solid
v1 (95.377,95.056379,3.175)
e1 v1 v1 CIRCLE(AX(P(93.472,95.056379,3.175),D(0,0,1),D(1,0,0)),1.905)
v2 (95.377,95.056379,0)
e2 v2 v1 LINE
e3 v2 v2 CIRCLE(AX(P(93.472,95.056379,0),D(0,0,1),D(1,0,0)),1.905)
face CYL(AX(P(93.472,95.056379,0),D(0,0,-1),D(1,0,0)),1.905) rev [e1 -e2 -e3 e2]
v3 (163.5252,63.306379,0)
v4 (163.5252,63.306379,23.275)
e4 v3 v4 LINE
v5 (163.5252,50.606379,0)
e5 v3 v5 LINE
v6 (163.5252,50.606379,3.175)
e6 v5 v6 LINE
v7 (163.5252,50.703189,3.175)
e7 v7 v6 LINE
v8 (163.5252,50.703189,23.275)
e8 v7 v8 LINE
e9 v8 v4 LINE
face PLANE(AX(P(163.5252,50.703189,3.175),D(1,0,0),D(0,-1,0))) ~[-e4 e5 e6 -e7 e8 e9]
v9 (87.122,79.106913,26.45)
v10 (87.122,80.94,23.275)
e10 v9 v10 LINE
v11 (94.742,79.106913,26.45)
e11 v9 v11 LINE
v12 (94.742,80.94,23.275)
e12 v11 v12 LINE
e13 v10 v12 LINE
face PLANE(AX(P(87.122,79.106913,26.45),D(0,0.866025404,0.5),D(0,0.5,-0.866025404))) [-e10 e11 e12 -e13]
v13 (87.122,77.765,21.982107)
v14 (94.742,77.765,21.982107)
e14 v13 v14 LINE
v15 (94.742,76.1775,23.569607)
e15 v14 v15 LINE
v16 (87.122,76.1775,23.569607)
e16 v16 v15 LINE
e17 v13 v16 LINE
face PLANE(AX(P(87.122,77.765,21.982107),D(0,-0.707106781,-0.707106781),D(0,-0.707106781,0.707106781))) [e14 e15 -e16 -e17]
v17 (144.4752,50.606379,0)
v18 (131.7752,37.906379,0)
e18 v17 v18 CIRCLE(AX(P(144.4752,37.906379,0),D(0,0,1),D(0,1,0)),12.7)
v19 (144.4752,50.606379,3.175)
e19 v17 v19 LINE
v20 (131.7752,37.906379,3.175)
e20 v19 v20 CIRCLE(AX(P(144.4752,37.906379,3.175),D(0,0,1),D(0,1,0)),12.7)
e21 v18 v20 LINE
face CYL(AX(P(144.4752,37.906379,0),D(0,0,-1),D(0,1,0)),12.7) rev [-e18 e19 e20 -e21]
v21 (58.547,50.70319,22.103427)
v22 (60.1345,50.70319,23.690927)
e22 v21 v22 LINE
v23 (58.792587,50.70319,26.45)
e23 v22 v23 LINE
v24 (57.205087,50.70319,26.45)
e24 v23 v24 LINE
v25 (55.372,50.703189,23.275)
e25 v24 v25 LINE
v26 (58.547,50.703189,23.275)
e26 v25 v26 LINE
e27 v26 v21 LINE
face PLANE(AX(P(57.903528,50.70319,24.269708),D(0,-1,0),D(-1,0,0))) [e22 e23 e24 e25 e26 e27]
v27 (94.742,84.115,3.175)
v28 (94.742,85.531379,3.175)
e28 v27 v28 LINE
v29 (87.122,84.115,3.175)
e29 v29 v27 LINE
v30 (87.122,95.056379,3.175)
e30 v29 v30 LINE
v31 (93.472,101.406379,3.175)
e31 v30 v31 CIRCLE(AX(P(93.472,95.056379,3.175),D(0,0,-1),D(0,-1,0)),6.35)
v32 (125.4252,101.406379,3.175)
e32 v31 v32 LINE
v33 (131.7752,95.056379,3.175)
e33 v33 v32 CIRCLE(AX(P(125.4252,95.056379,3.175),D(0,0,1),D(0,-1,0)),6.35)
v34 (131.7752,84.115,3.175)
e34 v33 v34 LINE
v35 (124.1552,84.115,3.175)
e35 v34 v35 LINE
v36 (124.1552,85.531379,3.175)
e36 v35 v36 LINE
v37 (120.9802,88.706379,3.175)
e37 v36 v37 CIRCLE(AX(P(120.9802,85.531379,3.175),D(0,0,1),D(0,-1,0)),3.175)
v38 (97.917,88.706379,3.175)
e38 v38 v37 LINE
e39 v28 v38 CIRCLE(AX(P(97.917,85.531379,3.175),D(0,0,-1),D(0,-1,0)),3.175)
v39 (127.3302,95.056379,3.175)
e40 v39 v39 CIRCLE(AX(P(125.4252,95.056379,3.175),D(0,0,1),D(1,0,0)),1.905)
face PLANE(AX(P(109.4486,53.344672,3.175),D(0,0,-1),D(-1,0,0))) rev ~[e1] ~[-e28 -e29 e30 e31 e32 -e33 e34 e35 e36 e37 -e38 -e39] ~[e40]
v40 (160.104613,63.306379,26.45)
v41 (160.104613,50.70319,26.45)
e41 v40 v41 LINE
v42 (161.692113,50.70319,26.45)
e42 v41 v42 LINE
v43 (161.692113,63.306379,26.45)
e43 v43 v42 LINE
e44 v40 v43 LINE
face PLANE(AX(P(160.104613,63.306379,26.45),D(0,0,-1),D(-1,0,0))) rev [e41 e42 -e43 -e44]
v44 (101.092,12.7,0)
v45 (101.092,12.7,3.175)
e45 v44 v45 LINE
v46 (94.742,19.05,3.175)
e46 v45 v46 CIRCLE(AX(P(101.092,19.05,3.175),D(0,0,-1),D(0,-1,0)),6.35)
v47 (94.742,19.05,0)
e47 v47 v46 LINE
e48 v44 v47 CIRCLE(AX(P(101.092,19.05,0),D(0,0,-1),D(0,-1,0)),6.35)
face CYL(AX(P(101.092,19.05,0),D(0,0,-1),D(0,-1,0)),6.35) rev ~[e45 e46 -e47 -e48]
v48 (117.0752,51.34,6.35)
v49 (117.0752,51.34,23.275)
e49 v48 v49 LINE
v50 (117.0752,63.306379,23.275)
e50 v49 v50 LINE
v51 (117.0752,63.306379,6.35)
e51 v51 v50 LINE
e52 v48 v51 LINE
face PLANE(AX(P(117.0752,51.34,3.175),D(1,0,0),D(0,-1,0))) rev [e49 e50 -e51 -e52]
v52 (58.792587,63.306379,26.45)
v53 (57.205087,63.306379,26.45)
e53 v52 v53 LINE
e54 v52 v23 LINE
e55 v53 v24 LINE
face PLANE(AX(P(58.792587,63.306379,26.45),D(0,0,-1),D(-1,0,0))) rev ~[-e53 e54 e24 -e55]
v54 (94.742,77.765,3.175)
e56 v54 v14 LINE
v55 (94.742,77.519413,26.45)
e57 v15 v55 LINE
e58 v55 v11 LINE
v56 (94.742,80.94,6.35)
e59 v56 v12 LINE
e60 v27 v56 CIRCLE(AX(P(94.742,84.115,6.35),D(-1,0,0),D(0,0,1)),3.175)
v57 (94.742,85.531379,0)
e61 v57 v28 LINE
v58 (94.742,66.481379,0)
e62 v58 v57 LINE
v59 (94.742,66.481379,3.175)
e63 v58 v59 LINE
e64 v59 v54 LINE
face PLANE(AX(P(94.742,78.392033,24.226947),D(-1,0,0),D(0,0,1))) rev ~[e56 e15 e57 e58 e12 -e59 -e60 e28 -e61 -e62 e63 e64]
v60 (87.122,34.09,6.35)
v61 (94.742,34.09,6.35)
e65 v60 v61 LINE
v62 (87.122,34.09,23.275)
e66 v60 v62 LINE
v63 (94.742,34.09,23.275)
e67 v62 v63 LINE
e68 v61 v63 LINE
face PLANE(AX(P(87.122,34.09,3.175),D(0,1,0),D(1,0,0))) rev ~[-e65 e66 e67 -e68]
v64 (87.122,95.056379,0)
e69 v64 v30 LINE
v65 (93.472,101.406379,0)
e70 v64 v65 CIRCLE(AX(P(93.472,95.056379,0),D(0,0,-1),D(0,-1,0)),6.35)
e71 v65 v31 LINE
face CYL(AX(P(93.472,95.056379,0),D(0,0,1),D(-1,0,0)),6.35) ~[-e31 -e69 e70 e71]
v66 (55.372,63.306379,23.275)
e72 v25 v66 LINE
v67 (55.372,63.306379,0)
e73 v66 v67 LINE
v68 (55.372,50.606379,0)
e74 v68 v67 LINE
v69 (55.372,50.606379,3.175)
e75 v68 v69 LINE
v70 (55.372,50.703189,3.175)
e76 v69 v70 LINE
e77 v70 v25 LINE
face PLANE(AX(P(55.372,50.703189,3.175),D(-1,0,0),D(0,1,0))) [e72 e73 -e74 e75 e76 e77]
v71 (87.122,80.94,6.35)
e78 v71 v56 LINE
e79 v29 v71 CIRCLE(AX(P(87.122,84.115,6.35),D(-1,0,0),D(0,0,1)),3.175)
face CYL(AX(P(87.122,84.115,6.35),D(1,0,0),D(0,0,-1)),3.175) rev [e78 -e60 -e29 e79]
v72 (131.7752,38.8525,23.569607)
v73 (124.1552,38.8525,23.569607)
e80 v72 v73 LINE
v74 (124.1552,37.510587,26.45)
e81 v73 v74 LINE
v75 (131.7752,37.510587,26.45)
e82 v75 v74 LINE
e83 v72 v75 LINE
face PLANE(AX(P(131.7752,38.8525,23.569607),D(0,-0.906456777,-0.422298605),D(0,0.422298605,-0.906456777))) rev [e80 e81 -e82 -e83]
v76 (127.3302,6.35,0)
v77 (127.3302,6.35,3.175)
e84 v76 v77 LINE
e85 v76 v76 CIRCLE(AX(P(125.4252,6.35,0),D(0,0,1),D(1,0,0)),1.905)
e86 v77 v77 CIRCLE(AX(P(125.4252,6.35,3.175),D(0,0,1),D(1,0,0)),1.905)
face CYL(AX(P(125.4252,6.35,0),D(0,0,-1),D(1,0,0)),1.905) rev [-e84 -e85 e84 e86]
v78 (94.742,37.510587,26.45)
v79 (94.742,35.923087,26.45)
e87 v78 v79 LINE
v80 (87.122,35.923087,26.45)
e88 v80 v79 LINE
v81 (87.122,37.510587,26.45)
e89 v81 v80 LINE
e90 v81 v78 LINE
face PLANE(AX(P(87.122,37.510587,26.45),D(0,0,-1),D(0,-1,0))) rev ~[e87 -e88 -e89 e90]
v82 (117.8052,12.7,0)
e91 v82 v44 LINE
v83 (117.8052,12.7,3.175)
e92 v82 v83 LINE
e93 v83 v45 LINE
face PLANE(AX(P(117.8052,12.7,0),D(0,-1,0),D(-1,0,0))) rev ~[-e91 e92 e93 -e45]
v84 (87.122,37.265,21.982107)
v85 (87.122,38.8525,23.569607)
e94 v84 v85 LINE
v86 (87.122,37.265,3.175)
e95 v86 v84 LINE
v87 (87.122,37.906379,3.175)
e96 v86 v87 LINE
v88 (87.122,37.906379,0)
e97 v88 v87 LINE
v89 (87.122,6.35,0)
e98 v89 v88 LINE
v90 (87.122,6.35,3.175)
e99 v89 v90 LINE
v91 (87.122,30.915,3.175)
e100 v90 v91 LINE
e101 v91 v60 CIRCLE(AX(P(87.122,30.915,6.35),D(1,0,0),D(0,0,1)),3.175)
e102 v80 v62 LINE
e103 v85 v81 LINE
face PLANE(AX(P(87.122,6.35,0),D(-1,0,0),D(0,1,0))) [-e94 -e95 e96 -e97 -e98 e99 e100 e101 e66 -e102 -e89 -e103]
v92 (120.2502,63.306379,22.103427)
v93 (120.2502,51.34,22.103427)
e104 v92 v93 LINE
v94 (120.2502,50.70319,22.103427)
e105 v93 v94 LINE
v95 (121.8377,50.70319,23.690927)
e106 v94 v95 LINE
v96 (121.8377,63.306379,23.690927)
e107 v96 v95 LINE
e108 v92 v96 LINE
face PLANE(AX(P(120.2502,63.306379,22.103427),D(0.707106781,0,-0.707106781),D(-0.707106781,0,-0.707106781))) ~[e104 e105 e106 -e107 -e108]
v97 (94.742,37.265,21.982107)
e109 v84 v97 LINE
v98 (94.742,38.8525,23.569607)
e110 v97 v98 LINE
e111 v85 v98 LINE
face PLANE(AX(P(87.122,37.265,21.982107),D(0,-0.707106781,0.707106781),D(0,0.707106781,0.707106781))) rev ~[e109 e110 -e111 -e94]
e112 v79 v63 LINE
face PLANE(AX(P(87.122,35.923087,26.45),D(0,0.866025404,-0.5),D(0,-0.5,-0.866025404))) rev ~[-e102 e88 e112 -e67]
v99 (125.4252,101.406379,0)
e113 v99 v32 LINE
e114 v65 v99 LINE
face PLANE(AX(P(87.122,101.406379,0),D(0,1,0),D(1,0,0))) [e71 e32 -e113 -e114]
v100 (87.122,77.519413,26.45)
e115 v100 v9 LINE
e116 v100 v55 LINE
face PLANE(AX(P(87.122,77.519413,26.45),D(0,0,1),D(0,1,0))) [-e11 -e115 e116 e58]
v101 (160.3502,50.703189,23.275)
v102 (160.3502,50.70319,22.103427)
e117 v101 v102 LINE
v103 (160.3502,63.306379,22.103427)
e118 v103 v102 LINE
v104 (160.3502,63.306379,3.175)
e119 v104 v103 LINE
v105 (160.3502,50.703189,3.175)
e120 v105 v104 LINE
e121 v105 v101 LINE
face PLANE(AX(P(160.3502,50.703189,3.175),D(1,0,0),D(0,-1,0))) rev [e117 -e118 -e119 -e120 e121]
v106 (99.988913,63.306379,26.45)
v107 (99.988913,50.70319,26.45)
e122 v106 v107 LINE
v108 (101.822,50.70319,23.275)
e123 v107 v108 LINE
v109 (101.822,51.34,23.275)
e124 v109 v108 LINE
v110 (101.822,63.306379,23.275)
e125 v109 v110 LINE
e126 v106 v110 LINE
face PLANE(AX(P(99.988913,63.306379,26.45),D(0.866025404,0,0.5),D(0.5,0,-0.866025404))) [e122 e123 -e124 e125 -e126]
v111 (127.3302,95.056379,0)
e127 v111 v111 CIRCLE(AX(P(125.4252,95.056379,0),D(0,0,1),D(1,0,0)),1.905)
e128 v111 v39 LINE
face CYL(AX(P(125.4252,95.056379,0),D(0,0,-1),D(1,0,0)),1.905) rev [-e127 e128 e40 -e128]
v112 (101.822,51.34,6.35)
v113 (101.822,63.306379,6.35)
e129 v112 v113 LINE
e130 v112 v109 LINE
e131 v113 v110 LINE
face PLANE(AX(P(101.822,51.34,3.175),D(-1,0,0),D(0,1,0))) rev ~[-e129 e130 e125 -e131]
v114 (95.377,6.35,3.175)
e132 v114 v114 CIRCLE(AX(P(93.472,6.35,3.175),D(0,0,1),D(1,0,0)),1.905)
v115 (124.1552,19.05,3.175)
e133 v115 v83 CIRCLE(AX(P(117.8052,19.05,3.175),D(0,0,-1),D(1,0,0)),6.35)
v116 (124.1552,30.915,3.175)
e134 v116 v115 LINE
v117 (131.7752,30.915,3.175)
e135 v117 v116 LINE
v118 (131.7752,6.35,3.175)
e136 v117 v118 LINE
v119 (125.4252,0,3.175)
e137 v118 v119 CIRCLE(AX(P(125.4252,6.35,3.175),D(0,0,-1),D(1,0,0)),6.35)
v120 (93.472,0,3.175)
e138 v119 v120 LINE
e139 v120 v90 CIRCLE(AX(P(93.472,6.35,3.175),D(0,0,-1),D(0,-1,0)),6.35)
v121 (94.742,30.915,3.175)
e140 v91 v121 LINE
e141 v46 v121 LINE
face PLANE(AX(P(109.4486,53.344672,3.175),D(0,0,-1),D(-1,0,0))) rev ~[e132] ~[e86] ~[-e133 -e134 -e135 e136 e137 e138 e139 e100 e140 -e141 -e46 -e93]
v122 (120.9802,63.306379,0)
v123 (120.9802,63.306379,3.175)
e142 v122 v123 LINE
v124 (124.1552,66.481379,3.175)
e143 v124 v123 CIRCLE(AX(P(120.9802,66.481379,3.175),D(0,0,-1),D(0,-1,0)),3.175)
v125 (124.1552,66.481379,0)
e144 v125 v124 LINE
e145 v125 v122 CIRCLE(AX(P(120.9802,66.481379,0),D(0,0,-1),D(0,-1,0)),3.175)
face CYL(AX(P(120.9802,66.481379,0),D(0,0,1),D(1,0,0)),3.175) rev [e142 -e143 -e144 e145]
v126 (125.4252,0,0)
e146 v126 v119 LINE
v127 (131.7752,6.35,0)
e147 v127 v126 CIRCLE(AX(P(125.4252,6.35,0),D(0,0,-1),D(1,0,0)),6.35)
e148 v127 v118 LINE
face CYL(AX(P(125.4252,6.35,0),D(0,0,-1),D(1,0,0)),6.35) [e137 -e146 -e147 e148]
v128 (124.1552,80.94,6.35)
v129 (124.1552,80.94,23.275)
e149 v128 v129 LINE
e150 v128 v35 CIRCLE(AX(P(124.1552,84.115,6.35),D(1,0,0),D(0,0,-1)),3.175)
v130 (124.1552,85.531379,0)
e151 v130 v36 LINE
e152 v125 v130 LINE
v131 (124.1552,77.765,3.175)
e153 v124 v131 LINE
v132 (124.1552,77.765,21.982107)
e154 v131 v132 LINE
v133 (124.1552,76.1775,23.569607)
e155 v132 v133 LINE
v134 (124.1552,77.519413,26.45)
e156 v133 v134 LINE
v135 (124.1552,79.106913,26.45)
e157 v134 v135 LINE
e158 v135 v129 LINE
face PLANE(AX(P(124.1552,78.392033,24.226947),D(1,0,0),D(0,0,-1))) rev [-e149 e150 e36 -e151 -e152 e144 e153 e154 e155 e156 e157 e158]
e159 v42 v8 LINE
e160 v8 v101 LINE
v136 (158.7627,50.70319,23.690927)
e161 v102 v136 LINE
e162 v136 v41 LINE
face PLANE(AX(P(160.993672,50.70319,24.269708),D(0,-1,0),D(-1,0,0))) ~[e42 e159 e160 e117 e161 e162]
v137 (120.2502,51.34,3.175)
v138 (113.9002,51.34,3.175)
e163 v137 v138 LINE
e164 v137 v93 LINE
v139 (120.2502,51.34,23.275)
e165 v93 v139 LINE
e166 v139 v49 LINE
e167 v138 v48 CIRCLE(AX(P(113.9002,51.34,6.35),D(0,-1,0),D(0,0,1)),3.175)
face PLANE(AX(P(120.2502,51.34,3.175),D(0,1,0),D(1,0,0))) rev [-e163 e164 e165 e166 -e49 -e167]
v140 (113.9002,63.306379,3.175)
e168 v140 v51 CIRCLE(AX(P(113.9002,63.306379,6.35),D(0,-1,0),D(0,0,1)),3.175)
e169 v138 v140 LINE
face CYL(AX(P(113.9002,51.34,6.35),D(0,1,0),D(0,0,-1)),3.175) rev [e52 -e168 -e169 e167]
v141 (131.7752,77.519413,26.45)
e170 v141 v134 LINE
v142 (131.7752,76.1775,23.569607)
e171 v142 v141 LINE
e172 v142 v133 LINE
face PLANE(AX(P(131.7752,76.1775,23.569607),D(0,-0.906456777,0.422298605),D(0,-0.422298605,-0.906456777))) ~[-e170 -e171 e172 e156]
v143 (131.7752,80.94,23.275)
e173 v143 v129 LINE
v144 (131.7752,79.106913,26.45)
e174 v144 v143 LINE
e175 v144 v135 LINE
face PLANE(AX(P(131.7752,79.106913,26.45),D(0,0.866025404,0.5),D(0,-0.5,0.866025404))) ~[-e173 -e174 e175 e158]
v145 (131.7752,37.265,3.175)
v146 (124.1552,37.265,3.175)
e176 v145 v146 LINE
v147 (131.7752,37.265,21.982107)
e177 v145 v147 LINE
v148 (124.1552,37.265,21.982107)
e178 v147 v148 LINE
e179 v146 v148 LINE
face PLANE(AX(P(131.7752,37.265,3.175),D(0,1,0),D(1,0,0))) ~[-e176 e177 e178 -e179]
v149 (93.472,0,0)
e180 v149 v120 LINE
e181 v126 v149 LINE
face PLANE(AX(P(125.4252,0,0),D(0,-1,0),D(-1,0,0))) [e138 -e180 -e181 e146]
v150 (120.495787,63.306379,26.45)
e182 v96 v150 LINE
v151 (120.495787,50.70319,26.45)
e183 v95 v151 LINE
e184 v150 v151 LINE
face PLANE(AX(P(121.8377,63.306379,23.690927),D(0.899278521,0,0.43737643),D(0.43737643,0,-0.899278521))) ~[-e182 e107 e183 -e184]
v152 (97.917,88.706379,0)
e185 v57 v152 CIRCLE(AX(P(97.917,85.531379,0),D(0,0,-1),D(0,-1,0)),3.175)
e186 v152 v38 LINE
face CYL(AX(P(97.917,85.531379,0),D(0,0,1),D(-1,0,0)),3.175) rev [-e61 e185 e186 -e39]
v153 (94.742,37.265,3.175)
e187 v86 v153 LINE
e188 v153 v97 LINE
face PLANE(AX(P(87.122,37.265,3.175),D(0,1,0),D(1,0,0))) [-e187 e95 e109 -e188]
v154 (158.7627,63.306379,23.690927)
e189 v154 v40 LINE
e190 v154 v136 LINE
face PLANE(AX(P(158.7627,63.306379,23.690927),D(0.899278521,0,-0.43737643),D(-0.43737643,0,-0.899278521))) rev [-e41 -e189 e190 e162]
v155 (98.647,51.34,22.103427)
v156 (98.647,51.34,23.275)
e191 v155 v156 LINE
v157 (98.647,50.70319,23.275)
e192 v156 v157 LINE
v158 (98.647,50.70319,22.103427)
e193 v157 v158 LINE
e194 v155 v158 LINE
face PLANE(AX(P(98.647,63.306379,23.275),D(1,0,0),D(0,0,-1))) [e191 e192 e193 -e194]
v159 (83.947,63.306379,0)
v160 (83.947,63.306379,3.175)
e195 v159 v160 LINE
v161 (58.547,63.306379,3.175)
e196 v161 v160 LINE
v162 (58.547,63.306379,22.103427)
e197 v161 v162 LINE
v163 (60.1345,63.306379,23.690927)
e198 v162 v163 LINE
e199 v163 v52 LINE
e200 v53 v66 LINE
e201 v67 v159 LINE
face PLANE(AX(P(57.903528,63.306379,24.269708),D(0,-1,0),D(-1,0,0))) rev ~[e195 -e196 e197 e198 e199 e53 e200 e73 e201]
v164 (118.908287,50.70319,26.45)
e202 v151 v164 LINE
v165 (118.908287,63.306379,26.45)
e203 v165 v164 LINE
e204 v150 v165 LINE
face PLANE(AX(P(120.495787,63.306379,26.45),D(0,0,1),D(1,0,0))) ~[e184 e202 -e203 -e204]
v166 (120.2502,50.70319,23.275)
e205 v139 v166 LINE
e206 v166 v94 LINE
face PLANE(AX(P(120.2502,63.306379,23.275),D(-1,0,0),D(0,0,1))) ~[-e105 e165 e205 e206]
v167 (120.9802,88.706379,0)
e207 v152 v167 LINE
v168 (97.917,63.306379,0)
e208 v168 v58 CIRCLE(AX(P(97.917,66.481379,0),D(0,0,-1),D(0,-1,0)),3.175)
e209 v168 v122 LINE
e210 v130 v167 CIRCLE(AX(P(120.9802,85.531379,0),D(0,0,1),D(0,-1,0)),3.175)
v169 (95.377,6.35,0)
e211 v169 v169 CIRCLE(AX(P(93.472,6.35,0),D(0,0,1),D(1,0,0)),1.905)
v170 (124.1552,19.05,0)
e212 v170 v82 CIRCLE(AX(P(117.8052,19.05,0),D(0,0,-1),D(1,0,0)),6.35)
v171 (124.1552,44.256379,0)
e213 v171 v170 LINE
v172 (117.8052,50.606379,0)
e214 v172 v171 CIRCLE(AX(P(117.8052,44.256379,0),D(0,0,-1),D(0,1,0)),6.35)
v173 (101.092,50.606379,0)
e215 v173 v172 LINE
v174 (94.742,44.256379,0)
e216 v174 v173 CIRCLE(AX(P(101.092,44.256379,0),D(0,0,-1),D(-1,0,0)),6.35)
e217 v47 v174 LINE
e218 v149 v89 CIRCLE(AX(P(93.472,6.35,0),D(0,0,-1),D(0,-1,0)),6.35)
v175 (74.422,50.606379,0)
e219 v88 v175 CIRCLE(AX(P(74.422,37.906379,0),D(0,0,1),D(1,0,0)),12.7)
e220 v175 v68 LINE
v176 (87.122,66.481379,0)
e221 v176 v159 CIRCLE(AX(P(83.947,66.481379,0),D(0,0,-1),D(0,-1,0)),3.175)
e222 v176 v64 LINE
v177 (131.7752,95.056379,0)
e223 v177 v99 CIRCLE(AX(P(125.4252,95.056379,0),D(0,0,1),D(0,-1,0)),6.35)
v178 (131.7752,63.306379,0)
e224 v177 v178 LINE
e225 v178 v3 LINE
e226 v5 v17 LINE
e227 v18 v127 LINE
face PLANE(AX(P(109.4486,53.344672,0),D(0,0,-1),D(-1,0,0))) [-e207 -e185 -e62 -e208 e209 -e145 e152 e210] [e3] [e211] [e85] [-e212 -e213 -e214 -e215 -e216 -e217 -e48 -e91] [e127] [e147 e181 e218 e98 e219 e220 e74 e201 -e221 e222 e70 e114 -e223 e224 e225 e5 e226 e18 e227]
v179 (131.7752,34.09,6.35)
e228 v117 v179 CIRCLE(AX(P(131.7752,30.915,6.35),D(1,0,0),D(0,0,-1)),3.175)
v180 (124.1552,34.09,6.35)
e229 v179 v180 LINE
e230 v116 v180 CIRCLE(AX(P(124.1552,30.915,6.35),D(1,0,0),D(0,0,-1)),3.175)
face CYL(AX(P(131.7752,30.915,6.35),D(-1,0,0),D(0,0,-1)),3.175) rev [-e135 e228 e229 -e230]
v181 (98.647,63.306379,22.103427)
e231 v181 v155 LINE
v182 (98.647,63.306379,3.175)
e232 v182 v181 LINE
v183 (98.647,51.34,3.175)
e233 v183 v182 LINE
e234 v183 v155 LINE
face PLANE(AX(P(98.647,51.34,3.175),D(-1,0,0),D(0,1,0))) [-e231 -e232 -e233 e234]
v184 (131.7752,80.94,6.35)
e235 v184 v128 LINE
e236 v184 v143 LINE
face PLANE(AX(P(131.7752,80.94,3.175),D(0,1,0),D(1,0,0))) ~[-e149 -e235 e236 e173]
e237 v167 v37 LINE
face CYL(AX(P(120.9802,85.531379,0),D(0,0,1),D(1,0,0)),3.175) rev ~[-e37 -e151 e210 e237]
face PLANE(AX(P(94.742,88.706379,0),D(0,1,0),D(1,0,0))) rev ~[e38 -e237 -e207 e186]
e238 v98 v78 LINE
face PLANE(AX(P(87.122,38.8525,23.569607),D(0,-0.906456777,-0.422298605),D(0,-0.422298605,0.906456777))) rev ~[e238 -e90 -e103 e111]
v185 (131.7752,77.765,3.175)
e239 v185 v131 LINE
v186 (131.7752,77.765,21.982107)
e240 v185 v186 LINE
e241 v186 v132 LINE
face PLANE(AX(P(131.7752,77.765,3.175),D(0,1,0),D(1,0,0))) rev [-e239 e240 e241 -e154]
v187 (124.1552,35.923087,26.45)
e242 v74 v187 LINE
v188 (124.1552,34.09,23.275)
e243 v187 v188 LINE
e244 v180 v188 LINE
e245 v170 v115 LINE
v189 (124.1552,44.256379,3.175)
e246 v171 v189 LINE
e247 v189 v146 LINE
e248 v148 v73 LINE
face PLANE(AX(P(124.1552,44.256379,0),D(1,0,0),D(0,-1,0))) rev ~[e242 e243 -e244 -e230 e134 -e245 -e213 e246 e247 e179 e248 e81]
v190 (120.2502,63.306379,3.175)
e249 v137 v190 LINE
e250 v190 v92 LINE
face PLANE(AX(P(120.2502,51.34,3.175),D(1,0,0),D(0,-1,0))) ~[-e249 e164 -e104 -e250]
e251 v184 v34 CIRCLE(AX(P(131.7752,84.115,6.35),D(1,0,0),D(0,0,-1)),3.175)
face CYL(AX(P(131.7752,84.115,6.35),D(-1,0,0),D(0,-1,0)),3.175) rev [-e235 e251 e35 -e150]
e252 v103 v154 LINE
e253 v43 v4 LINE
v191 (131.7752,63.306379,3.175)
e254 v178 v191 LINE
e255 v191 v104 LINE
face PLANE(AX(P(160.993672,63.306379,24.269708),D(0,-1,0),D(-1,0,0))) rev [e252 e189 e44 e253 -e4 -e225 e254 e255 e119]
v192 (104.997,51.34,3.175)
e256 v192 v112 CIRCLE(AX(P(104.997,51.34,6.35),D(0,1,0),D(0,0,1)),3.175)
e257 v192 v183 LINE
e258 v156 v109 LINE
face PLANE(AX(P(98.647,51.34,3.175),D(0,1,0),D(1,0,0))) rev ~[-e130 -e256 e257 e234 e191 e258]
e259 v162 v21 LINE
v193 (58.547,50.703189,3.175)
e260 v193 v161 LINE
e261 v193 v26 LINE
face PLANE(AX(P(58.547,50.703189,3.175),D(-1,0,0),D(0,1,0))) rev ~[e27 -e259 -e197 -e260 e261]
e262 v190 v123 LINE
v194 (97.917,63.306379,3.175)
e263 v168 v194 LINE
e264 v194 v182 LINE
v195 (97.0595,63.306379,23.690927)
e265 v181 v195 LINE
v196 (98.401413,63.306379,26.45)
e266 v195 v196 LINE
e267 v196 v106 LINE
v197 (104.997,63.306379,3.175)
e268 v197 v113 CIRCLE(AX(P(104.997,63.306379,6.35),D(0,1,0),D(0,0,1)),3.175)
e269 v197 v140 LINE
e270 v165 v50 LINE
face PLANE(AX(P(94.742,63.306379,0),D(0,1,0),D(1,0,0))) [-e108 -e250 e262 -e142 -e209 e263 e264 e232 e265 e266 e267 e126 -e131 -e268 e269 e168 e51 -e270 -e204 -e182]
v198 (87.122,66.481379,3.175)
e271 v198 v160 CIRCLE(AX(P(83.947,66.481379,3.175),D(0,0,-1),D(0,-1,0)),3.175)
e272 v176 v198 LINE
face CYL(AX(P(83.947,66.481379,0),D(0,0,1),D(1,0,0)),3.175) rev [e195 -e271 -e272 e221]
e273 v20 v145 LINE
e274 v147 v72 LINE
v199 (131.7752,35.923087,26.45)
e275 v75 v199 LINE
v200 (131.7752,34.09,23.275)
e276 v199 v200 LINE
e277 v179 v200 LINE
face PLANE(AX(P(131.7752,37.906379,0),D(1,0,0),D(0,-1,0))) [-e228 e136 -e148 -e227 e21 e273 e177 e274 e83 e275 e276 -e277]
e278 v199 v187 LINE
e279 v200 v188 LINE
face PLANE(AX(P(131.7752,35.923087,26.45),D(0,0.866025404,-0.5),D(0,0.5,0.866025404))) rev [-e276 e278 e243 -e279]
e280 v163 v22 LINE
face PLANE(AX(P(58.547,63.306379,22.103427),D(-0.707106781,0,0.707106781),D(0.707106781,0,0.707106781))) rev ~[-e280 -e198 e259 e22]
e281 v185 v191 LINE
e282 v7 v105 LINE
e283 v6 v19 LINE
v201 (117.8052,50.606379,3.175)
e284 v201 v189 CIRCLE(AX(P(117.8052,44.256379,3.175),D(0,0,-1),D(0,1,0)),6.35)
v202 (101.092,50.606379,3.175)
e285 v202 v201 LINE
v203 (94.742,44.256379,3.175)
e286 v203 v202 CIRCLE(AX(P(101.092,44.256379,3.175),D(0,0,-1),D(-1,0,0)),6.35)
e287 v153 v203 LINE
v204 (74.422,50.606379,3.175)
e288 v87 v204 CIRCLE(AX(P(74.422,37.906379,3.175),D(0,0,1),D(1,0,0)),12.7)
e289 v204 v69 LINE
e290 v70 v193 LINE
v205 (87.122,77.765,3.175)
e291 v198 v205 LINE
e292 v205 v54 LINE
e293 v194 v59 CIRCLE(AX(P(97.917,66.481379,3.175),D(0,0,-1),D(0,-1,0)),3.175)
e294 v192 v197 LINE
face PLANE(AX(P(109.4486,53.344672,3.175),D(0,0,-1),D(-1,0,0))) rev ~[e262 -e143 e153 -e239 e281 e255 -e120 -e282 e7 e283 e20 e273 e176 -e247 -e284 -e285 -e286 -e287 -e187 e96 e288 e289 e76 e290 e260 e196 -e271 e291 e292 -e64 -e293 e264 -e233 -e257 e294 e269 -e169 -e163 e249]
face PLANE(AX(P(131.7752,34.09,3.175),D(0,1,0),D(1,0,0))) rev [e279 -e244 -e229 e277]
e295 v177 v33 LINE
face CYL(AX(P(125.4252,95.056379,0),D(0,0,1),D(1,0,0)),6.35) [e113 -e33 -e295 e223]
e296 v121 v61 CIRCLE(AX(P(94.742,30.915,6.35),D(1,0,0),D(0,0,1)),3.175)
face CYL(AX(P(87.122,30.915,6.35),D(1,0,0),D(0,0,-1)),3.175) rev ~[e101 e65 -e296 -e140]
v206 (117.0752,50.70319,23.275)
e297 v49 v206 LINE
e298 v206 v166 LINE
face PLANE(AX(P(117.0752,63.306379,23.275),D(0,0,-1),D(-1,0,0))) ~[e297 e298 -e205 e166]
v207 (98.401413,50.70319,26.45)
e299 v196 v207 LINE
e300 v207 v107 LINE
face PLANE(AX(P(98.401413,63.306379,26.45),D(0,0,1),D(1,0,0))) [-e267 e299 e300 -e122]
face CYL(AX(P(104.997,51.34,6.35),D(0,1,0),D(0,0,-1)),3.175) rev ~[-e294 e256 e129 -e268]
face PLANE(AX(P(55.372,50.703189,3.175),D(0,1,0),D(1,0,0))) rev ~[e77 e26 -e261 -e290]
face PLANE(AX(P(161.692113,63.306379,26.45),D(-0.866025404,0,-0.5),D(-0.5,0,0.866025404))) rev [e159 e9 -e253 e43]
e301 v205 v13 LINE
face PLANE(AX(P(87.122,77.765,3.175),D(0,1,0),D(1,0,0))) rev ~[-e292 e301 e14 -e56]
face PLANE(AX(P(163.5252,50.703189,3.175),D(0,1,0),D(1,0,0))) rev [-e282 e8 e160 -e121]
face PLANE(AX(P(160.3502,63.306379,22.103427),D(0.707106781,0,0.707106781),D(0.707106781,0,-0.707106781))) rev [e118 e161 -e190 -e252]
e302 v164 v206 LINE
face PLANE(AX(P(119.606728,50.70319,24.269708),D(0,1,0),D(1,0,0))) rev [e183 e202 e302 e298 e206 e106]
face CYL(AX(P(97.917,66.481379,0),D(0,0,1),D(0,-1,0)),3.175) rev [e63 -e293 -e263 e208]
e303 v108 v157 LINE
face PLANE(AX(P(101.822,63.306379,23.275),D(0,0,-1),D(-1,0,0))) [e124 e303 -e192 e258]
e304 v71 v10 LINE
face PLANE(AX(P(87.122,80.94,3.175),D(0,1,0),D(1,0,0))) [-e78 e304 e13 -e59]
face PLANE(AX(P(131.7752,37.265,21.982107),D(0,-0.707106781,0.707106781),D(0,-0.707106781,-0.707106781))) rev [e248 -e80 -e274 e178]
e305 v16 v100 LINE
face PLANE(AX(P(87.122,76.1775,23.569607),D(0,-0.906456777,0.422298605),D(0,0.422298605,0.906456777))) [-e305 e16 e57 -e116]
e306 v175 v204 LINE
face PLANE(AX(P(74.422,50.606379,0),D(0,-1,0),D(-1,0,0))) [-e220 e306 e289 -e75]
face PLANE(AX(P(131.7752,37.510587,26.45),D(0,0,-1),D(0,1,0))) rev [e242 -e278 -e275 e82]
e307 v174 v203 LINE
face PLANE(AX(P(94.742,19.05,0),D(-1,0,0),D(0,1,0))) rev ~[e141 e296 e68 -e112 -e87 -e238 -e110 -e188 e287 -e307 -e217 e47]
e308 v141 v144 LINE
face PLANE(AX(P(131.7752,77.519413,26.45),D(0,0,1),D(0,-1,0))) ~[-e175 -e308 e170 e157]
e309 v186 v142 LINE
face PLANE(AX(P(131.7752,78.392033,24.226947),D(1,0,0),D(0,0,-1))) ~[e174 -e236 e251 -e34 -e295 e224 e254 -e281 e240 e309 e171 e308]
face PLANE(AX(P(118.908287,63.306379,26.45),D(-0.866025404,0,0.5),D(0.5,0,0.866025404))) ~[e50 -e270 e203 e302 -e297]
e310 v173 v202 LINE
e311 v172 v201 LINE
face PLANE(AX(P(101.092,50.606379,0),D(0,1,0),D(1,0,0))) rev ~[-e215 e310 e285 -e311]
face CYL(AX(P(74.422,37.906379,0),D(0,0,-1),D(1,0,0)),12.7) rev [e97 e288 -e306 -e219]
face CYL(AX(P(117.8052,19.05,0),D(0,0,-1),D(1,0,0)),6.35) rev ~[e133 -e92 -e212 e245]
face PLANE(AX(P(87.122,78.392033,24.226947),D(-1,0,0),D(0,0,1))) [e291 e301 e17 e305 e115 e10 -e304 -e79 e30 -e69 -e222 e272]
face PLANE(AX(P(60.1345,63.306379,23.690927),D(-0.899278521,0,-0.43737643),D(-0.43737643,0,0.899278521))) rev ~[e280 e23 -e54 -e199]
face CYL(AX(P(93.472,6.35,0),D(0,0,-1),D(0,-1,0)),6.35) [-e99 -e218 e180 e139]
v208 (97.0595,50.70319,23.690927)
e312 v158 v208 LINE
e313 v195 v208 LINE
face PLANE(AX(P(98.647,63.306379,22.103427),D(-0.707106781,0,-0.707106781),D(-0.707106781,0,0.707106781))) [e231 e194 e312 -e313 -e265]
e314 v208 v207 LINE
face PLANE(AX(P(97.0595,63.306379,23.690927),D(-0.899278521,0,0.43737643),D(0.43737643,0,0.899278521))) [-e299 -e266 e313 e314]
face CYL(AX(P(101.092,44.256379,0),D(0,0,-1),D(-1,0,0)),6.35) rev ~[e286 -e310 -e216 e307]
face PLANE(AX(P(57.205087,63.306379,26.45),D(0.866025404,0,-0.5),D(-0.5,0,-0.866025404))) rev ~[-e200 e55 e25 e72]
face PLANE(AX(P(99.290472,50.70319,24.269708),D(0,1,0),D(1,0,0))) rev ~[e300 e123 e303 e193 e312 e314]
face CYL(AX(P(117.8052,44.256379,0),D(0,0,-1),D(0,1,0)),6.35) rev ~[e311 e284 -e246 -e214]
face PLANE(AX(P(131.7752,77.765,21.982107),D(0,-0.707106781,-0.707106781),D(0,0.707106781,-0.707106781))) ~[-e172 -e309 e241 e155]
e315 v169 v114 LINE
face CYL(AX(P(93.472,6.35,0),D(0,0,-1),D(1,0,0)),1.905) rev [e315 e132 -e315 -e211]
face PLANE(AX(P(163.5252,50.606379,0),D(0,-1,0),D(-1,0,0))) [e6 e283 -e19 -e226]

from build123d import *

# Parameters (mm, degrees)
SKETCH1_R           = 1.905
SKETCH1_W           = 29.4132
SKETCH1_H           = 25.4
BOSS_EXTRUDE1_DEPTH = 3.175
SKETCH2_W           = 3.175
SKETCH2_H           = 12.603189316
SKETCH2_H_2         = 11.966378631
SKETCH2_W_2         = 7.62
SKETCH2_H_3         = 3.175
BOSS_EXTRUDE2_DEPTH = 20.1
BOSS_EXTRUDE3_DEPTH = 12.603189
BOSS_EXTRUDE4_DEPTH = 7.62
FILLET1_R           = 6.35
FILLET2_R           = 3.175


with BuildPart() as part:
    # Sketch1 → Boss-Extrude1 (new body)
    with BuildSketch(Plane.XY):
        with BuildLine():
            Line((87.122, 101.406378631), (99.822, 101.406378631))
            Line((99.822, 101.406378631), (119.0752, 101.406378631))
            Line((119.0752, 101.406378631), (131.7752, 101.406378631))
            Line((131.7752, 101.406378631), (131.7752, 63.306378631))
            Line((131.7752, 63.306378631), (163.5252, 63.306378631))
            Line((163.5252, 63.306378631), (163.5252, 50.606378631))
            Line((163.5252, 50.606378631), (144.4752, 50.606378631))
            ThreePointArc((144.4752, 50.606378631), (135.494943879, 46.886634752), (131.7752, 37.906378631))
            Line((131.7752, 37.906378631), (131.7752, 6.35))
            ThreePointArc((131.7752, 6.35), (129.915328061, 1.859871939), (125.4252, 0))
            Line((125.4252, 0), (109.4486, 0))
            Line((109.4486, 0), (93.472, 0))
            ThreePointArc((93.472, 0), (88.981871939, 1.859871939), (87.122, 6.35))
            Line((87.122, 6.35), (87.122, 37.906378631))
            ThreePointArc((87.122, 37.906378631), (83.402256121, 46.886634752), (74.422, 50.606378631))
            Line((74.422, 50.606378631), (55.372, 50.606378631))
            Line((55.372, 50.606378631), (55.372, 63.306378631))
            Line((55.372, 63.306378631), (87.122, 63.306378631))
            Line((87.122, 63.306378631), (87.122, 101.406378631))
        make_face()
        with Locations((93.472, 95.056378631)):
            Circle(SKETCH1_R, mode=Mode.SUBTRACT)
        with Locations((125.4252, 95.056378631)):
            Circle(SKETCH1_R, mode=Mode.SUBTRACT)
        with Locations((93.472, 6.35)):
            Circle(SKETCH1_R, mode=Mode.SUBTRACT)
        with Locations((125.4252, 6.35)):
            Circle(SKETCH1_R, mode=Mode.SUBTRACT)
        with Locations((109.4486, 76.006378631)):
            Rectangle(SKETCH1_W, SKETCH1_H, mode=Mode.SUBTRACT)
        with BuildLine():
            Line((101.092, 50.606378631), (117.8052, 50.606378631))
            ThreePointArc((117.8052, 50.606378631), (122.295328061, 48.746506691), (124.1552, 44.256378631))
            Line((124.1552, 44.256378631), (124.1552, 19.05))
            ThreePointArc((124.1552, 19.05), (122.295328061, 14.559871939), (117.8052, 12.7))
            Line((117.8052, 12.7), (101.092, 12.7))
            ThreePointArc((101.092, 12.7), (96.601871939, 14.559871939), (94.742, 19.05))
            Line((94.742, 19.05), (94.742, 44.256378631))
            ThreePointArc((94.742, 44.256378631), (96.601871939, 48.746506691), (101.092, 50.606378631))
        make_face(mode=Mode.SUBTRACT)
    extrude(amount=BOSS_EXTRUDE1_DEPTH)

    # Sketch2 → Boss-Extrude2 (add)
    with BuildSketch(Plane.XY.offset(3.175)):
        with Locations((56.9595, 57.004783973)):
            Rectangle(SKETCH2_W, SKETCH2_H)
        with Locations((100.2345, 57.323189316)):
            Rectangle(SKETCH2_W, SKETCH2_H_2)
        with Locations((90.932, 35.6775)):
            Rectangle(SKETCH2_W_2, SKETCH2_H_3)
        with Locations((90.932, 79.3525)):
            Rectangle(SKETCH2_W_2, SKETCH2_H_3)
    boss_extrude2 = extrude(amount=BOSS_EXTRUDE2_DEPTH)

    # Sketch3 → Boss-Extrude3 (add)
    with BuildSketch(Plane(origin=(0, 63.306378631, 0), x_dir=(1, 0, 0), z_dir=(0, 1, 0))):
        Polygon((58.547, -22.103427125), (60.1345, -23.690927125), (58.792587105, -26.45), (57.205087105, -26.45), (55.372, -23.275), (58.547, -23.275), align=None)
        Polygon((98.647, -22.103427125), (97.0595, -23.690927125), (98.401412895, -26.45), (99.988912895, -26.45), (101.822, -23.275), (98.647, -23.275), align=None)
    boss_extrude3 = extrude(amount=-BOSS_EXTRUDE3_DEPTH)

    # Sketch4 → Boss-Extrude4 (add)
    with BuildSketch(Plane.ZY.offset(-87.122)):
        Polygon((23.275, 80.94), (23.275, 77.765), (21.982106781, 77.765), (23.569606781, 76.1775), (26.45, 77.519412895), (26.45, 79.106912895), align=None)
        Polygon((26.45, 35.923087105), (23.275, 34.09), (23.275, 37.265), (21.982106781, 37.265), (23.569606781, 38.8525), (26.45, 37.510587105), align=None)
    boss_extrude4 = extrude(amount=-BOSS_EXTRUDE4_DEPTH)

    # Fillet1
    fillet1_edges = [part.edges().sort_by_distance(p)[0] for p in [
        (87.122, 101.406378631, 1.5875),
        (131.7752, 101.406378631, 1.5875),
    ]]
    fillet(fillet1_edges, radius=FILLET1_R)

    # Mirror3: Boss-Extrude2, Boss-Extrude3, Boss-Extrude4 across plane
    add(boss_extrude2.mirror(Plane.ZY.offset(-109.4486)))
    add(boss_extrude3.mirror(Plane.ZY.offset(-109.4486)))
    add(boss_extrude4.mirror(Plane.ZY.offset(-109.4486)))

    # Fillet2
    fillet2_edges = [part.edges().sort_by_distance(p)[0] for p in [
        (101.822, 57.323189315, 3.175),
        (90.932, 34.09, 3.175),
        (90.932, 80.94, 3.175),
        (117.0752, 57.323189315, 3.175),
        (127.9652, 34.09, 3.175),
        (127.9652, 80.94, 3.175),
        (87.122, 63.306378631, 1.5875),
        (94.742, 63.306378631, 1.5875),
        (124.1552, 63.306378631, 1.5875),
        (124.1552, 88.706378631, 1.5875),
        (94.742, 88.706378631, 1.5875),
    ]]
    fillet(fillet2_edges, radius=FILLET2_R)


solid = part.part
